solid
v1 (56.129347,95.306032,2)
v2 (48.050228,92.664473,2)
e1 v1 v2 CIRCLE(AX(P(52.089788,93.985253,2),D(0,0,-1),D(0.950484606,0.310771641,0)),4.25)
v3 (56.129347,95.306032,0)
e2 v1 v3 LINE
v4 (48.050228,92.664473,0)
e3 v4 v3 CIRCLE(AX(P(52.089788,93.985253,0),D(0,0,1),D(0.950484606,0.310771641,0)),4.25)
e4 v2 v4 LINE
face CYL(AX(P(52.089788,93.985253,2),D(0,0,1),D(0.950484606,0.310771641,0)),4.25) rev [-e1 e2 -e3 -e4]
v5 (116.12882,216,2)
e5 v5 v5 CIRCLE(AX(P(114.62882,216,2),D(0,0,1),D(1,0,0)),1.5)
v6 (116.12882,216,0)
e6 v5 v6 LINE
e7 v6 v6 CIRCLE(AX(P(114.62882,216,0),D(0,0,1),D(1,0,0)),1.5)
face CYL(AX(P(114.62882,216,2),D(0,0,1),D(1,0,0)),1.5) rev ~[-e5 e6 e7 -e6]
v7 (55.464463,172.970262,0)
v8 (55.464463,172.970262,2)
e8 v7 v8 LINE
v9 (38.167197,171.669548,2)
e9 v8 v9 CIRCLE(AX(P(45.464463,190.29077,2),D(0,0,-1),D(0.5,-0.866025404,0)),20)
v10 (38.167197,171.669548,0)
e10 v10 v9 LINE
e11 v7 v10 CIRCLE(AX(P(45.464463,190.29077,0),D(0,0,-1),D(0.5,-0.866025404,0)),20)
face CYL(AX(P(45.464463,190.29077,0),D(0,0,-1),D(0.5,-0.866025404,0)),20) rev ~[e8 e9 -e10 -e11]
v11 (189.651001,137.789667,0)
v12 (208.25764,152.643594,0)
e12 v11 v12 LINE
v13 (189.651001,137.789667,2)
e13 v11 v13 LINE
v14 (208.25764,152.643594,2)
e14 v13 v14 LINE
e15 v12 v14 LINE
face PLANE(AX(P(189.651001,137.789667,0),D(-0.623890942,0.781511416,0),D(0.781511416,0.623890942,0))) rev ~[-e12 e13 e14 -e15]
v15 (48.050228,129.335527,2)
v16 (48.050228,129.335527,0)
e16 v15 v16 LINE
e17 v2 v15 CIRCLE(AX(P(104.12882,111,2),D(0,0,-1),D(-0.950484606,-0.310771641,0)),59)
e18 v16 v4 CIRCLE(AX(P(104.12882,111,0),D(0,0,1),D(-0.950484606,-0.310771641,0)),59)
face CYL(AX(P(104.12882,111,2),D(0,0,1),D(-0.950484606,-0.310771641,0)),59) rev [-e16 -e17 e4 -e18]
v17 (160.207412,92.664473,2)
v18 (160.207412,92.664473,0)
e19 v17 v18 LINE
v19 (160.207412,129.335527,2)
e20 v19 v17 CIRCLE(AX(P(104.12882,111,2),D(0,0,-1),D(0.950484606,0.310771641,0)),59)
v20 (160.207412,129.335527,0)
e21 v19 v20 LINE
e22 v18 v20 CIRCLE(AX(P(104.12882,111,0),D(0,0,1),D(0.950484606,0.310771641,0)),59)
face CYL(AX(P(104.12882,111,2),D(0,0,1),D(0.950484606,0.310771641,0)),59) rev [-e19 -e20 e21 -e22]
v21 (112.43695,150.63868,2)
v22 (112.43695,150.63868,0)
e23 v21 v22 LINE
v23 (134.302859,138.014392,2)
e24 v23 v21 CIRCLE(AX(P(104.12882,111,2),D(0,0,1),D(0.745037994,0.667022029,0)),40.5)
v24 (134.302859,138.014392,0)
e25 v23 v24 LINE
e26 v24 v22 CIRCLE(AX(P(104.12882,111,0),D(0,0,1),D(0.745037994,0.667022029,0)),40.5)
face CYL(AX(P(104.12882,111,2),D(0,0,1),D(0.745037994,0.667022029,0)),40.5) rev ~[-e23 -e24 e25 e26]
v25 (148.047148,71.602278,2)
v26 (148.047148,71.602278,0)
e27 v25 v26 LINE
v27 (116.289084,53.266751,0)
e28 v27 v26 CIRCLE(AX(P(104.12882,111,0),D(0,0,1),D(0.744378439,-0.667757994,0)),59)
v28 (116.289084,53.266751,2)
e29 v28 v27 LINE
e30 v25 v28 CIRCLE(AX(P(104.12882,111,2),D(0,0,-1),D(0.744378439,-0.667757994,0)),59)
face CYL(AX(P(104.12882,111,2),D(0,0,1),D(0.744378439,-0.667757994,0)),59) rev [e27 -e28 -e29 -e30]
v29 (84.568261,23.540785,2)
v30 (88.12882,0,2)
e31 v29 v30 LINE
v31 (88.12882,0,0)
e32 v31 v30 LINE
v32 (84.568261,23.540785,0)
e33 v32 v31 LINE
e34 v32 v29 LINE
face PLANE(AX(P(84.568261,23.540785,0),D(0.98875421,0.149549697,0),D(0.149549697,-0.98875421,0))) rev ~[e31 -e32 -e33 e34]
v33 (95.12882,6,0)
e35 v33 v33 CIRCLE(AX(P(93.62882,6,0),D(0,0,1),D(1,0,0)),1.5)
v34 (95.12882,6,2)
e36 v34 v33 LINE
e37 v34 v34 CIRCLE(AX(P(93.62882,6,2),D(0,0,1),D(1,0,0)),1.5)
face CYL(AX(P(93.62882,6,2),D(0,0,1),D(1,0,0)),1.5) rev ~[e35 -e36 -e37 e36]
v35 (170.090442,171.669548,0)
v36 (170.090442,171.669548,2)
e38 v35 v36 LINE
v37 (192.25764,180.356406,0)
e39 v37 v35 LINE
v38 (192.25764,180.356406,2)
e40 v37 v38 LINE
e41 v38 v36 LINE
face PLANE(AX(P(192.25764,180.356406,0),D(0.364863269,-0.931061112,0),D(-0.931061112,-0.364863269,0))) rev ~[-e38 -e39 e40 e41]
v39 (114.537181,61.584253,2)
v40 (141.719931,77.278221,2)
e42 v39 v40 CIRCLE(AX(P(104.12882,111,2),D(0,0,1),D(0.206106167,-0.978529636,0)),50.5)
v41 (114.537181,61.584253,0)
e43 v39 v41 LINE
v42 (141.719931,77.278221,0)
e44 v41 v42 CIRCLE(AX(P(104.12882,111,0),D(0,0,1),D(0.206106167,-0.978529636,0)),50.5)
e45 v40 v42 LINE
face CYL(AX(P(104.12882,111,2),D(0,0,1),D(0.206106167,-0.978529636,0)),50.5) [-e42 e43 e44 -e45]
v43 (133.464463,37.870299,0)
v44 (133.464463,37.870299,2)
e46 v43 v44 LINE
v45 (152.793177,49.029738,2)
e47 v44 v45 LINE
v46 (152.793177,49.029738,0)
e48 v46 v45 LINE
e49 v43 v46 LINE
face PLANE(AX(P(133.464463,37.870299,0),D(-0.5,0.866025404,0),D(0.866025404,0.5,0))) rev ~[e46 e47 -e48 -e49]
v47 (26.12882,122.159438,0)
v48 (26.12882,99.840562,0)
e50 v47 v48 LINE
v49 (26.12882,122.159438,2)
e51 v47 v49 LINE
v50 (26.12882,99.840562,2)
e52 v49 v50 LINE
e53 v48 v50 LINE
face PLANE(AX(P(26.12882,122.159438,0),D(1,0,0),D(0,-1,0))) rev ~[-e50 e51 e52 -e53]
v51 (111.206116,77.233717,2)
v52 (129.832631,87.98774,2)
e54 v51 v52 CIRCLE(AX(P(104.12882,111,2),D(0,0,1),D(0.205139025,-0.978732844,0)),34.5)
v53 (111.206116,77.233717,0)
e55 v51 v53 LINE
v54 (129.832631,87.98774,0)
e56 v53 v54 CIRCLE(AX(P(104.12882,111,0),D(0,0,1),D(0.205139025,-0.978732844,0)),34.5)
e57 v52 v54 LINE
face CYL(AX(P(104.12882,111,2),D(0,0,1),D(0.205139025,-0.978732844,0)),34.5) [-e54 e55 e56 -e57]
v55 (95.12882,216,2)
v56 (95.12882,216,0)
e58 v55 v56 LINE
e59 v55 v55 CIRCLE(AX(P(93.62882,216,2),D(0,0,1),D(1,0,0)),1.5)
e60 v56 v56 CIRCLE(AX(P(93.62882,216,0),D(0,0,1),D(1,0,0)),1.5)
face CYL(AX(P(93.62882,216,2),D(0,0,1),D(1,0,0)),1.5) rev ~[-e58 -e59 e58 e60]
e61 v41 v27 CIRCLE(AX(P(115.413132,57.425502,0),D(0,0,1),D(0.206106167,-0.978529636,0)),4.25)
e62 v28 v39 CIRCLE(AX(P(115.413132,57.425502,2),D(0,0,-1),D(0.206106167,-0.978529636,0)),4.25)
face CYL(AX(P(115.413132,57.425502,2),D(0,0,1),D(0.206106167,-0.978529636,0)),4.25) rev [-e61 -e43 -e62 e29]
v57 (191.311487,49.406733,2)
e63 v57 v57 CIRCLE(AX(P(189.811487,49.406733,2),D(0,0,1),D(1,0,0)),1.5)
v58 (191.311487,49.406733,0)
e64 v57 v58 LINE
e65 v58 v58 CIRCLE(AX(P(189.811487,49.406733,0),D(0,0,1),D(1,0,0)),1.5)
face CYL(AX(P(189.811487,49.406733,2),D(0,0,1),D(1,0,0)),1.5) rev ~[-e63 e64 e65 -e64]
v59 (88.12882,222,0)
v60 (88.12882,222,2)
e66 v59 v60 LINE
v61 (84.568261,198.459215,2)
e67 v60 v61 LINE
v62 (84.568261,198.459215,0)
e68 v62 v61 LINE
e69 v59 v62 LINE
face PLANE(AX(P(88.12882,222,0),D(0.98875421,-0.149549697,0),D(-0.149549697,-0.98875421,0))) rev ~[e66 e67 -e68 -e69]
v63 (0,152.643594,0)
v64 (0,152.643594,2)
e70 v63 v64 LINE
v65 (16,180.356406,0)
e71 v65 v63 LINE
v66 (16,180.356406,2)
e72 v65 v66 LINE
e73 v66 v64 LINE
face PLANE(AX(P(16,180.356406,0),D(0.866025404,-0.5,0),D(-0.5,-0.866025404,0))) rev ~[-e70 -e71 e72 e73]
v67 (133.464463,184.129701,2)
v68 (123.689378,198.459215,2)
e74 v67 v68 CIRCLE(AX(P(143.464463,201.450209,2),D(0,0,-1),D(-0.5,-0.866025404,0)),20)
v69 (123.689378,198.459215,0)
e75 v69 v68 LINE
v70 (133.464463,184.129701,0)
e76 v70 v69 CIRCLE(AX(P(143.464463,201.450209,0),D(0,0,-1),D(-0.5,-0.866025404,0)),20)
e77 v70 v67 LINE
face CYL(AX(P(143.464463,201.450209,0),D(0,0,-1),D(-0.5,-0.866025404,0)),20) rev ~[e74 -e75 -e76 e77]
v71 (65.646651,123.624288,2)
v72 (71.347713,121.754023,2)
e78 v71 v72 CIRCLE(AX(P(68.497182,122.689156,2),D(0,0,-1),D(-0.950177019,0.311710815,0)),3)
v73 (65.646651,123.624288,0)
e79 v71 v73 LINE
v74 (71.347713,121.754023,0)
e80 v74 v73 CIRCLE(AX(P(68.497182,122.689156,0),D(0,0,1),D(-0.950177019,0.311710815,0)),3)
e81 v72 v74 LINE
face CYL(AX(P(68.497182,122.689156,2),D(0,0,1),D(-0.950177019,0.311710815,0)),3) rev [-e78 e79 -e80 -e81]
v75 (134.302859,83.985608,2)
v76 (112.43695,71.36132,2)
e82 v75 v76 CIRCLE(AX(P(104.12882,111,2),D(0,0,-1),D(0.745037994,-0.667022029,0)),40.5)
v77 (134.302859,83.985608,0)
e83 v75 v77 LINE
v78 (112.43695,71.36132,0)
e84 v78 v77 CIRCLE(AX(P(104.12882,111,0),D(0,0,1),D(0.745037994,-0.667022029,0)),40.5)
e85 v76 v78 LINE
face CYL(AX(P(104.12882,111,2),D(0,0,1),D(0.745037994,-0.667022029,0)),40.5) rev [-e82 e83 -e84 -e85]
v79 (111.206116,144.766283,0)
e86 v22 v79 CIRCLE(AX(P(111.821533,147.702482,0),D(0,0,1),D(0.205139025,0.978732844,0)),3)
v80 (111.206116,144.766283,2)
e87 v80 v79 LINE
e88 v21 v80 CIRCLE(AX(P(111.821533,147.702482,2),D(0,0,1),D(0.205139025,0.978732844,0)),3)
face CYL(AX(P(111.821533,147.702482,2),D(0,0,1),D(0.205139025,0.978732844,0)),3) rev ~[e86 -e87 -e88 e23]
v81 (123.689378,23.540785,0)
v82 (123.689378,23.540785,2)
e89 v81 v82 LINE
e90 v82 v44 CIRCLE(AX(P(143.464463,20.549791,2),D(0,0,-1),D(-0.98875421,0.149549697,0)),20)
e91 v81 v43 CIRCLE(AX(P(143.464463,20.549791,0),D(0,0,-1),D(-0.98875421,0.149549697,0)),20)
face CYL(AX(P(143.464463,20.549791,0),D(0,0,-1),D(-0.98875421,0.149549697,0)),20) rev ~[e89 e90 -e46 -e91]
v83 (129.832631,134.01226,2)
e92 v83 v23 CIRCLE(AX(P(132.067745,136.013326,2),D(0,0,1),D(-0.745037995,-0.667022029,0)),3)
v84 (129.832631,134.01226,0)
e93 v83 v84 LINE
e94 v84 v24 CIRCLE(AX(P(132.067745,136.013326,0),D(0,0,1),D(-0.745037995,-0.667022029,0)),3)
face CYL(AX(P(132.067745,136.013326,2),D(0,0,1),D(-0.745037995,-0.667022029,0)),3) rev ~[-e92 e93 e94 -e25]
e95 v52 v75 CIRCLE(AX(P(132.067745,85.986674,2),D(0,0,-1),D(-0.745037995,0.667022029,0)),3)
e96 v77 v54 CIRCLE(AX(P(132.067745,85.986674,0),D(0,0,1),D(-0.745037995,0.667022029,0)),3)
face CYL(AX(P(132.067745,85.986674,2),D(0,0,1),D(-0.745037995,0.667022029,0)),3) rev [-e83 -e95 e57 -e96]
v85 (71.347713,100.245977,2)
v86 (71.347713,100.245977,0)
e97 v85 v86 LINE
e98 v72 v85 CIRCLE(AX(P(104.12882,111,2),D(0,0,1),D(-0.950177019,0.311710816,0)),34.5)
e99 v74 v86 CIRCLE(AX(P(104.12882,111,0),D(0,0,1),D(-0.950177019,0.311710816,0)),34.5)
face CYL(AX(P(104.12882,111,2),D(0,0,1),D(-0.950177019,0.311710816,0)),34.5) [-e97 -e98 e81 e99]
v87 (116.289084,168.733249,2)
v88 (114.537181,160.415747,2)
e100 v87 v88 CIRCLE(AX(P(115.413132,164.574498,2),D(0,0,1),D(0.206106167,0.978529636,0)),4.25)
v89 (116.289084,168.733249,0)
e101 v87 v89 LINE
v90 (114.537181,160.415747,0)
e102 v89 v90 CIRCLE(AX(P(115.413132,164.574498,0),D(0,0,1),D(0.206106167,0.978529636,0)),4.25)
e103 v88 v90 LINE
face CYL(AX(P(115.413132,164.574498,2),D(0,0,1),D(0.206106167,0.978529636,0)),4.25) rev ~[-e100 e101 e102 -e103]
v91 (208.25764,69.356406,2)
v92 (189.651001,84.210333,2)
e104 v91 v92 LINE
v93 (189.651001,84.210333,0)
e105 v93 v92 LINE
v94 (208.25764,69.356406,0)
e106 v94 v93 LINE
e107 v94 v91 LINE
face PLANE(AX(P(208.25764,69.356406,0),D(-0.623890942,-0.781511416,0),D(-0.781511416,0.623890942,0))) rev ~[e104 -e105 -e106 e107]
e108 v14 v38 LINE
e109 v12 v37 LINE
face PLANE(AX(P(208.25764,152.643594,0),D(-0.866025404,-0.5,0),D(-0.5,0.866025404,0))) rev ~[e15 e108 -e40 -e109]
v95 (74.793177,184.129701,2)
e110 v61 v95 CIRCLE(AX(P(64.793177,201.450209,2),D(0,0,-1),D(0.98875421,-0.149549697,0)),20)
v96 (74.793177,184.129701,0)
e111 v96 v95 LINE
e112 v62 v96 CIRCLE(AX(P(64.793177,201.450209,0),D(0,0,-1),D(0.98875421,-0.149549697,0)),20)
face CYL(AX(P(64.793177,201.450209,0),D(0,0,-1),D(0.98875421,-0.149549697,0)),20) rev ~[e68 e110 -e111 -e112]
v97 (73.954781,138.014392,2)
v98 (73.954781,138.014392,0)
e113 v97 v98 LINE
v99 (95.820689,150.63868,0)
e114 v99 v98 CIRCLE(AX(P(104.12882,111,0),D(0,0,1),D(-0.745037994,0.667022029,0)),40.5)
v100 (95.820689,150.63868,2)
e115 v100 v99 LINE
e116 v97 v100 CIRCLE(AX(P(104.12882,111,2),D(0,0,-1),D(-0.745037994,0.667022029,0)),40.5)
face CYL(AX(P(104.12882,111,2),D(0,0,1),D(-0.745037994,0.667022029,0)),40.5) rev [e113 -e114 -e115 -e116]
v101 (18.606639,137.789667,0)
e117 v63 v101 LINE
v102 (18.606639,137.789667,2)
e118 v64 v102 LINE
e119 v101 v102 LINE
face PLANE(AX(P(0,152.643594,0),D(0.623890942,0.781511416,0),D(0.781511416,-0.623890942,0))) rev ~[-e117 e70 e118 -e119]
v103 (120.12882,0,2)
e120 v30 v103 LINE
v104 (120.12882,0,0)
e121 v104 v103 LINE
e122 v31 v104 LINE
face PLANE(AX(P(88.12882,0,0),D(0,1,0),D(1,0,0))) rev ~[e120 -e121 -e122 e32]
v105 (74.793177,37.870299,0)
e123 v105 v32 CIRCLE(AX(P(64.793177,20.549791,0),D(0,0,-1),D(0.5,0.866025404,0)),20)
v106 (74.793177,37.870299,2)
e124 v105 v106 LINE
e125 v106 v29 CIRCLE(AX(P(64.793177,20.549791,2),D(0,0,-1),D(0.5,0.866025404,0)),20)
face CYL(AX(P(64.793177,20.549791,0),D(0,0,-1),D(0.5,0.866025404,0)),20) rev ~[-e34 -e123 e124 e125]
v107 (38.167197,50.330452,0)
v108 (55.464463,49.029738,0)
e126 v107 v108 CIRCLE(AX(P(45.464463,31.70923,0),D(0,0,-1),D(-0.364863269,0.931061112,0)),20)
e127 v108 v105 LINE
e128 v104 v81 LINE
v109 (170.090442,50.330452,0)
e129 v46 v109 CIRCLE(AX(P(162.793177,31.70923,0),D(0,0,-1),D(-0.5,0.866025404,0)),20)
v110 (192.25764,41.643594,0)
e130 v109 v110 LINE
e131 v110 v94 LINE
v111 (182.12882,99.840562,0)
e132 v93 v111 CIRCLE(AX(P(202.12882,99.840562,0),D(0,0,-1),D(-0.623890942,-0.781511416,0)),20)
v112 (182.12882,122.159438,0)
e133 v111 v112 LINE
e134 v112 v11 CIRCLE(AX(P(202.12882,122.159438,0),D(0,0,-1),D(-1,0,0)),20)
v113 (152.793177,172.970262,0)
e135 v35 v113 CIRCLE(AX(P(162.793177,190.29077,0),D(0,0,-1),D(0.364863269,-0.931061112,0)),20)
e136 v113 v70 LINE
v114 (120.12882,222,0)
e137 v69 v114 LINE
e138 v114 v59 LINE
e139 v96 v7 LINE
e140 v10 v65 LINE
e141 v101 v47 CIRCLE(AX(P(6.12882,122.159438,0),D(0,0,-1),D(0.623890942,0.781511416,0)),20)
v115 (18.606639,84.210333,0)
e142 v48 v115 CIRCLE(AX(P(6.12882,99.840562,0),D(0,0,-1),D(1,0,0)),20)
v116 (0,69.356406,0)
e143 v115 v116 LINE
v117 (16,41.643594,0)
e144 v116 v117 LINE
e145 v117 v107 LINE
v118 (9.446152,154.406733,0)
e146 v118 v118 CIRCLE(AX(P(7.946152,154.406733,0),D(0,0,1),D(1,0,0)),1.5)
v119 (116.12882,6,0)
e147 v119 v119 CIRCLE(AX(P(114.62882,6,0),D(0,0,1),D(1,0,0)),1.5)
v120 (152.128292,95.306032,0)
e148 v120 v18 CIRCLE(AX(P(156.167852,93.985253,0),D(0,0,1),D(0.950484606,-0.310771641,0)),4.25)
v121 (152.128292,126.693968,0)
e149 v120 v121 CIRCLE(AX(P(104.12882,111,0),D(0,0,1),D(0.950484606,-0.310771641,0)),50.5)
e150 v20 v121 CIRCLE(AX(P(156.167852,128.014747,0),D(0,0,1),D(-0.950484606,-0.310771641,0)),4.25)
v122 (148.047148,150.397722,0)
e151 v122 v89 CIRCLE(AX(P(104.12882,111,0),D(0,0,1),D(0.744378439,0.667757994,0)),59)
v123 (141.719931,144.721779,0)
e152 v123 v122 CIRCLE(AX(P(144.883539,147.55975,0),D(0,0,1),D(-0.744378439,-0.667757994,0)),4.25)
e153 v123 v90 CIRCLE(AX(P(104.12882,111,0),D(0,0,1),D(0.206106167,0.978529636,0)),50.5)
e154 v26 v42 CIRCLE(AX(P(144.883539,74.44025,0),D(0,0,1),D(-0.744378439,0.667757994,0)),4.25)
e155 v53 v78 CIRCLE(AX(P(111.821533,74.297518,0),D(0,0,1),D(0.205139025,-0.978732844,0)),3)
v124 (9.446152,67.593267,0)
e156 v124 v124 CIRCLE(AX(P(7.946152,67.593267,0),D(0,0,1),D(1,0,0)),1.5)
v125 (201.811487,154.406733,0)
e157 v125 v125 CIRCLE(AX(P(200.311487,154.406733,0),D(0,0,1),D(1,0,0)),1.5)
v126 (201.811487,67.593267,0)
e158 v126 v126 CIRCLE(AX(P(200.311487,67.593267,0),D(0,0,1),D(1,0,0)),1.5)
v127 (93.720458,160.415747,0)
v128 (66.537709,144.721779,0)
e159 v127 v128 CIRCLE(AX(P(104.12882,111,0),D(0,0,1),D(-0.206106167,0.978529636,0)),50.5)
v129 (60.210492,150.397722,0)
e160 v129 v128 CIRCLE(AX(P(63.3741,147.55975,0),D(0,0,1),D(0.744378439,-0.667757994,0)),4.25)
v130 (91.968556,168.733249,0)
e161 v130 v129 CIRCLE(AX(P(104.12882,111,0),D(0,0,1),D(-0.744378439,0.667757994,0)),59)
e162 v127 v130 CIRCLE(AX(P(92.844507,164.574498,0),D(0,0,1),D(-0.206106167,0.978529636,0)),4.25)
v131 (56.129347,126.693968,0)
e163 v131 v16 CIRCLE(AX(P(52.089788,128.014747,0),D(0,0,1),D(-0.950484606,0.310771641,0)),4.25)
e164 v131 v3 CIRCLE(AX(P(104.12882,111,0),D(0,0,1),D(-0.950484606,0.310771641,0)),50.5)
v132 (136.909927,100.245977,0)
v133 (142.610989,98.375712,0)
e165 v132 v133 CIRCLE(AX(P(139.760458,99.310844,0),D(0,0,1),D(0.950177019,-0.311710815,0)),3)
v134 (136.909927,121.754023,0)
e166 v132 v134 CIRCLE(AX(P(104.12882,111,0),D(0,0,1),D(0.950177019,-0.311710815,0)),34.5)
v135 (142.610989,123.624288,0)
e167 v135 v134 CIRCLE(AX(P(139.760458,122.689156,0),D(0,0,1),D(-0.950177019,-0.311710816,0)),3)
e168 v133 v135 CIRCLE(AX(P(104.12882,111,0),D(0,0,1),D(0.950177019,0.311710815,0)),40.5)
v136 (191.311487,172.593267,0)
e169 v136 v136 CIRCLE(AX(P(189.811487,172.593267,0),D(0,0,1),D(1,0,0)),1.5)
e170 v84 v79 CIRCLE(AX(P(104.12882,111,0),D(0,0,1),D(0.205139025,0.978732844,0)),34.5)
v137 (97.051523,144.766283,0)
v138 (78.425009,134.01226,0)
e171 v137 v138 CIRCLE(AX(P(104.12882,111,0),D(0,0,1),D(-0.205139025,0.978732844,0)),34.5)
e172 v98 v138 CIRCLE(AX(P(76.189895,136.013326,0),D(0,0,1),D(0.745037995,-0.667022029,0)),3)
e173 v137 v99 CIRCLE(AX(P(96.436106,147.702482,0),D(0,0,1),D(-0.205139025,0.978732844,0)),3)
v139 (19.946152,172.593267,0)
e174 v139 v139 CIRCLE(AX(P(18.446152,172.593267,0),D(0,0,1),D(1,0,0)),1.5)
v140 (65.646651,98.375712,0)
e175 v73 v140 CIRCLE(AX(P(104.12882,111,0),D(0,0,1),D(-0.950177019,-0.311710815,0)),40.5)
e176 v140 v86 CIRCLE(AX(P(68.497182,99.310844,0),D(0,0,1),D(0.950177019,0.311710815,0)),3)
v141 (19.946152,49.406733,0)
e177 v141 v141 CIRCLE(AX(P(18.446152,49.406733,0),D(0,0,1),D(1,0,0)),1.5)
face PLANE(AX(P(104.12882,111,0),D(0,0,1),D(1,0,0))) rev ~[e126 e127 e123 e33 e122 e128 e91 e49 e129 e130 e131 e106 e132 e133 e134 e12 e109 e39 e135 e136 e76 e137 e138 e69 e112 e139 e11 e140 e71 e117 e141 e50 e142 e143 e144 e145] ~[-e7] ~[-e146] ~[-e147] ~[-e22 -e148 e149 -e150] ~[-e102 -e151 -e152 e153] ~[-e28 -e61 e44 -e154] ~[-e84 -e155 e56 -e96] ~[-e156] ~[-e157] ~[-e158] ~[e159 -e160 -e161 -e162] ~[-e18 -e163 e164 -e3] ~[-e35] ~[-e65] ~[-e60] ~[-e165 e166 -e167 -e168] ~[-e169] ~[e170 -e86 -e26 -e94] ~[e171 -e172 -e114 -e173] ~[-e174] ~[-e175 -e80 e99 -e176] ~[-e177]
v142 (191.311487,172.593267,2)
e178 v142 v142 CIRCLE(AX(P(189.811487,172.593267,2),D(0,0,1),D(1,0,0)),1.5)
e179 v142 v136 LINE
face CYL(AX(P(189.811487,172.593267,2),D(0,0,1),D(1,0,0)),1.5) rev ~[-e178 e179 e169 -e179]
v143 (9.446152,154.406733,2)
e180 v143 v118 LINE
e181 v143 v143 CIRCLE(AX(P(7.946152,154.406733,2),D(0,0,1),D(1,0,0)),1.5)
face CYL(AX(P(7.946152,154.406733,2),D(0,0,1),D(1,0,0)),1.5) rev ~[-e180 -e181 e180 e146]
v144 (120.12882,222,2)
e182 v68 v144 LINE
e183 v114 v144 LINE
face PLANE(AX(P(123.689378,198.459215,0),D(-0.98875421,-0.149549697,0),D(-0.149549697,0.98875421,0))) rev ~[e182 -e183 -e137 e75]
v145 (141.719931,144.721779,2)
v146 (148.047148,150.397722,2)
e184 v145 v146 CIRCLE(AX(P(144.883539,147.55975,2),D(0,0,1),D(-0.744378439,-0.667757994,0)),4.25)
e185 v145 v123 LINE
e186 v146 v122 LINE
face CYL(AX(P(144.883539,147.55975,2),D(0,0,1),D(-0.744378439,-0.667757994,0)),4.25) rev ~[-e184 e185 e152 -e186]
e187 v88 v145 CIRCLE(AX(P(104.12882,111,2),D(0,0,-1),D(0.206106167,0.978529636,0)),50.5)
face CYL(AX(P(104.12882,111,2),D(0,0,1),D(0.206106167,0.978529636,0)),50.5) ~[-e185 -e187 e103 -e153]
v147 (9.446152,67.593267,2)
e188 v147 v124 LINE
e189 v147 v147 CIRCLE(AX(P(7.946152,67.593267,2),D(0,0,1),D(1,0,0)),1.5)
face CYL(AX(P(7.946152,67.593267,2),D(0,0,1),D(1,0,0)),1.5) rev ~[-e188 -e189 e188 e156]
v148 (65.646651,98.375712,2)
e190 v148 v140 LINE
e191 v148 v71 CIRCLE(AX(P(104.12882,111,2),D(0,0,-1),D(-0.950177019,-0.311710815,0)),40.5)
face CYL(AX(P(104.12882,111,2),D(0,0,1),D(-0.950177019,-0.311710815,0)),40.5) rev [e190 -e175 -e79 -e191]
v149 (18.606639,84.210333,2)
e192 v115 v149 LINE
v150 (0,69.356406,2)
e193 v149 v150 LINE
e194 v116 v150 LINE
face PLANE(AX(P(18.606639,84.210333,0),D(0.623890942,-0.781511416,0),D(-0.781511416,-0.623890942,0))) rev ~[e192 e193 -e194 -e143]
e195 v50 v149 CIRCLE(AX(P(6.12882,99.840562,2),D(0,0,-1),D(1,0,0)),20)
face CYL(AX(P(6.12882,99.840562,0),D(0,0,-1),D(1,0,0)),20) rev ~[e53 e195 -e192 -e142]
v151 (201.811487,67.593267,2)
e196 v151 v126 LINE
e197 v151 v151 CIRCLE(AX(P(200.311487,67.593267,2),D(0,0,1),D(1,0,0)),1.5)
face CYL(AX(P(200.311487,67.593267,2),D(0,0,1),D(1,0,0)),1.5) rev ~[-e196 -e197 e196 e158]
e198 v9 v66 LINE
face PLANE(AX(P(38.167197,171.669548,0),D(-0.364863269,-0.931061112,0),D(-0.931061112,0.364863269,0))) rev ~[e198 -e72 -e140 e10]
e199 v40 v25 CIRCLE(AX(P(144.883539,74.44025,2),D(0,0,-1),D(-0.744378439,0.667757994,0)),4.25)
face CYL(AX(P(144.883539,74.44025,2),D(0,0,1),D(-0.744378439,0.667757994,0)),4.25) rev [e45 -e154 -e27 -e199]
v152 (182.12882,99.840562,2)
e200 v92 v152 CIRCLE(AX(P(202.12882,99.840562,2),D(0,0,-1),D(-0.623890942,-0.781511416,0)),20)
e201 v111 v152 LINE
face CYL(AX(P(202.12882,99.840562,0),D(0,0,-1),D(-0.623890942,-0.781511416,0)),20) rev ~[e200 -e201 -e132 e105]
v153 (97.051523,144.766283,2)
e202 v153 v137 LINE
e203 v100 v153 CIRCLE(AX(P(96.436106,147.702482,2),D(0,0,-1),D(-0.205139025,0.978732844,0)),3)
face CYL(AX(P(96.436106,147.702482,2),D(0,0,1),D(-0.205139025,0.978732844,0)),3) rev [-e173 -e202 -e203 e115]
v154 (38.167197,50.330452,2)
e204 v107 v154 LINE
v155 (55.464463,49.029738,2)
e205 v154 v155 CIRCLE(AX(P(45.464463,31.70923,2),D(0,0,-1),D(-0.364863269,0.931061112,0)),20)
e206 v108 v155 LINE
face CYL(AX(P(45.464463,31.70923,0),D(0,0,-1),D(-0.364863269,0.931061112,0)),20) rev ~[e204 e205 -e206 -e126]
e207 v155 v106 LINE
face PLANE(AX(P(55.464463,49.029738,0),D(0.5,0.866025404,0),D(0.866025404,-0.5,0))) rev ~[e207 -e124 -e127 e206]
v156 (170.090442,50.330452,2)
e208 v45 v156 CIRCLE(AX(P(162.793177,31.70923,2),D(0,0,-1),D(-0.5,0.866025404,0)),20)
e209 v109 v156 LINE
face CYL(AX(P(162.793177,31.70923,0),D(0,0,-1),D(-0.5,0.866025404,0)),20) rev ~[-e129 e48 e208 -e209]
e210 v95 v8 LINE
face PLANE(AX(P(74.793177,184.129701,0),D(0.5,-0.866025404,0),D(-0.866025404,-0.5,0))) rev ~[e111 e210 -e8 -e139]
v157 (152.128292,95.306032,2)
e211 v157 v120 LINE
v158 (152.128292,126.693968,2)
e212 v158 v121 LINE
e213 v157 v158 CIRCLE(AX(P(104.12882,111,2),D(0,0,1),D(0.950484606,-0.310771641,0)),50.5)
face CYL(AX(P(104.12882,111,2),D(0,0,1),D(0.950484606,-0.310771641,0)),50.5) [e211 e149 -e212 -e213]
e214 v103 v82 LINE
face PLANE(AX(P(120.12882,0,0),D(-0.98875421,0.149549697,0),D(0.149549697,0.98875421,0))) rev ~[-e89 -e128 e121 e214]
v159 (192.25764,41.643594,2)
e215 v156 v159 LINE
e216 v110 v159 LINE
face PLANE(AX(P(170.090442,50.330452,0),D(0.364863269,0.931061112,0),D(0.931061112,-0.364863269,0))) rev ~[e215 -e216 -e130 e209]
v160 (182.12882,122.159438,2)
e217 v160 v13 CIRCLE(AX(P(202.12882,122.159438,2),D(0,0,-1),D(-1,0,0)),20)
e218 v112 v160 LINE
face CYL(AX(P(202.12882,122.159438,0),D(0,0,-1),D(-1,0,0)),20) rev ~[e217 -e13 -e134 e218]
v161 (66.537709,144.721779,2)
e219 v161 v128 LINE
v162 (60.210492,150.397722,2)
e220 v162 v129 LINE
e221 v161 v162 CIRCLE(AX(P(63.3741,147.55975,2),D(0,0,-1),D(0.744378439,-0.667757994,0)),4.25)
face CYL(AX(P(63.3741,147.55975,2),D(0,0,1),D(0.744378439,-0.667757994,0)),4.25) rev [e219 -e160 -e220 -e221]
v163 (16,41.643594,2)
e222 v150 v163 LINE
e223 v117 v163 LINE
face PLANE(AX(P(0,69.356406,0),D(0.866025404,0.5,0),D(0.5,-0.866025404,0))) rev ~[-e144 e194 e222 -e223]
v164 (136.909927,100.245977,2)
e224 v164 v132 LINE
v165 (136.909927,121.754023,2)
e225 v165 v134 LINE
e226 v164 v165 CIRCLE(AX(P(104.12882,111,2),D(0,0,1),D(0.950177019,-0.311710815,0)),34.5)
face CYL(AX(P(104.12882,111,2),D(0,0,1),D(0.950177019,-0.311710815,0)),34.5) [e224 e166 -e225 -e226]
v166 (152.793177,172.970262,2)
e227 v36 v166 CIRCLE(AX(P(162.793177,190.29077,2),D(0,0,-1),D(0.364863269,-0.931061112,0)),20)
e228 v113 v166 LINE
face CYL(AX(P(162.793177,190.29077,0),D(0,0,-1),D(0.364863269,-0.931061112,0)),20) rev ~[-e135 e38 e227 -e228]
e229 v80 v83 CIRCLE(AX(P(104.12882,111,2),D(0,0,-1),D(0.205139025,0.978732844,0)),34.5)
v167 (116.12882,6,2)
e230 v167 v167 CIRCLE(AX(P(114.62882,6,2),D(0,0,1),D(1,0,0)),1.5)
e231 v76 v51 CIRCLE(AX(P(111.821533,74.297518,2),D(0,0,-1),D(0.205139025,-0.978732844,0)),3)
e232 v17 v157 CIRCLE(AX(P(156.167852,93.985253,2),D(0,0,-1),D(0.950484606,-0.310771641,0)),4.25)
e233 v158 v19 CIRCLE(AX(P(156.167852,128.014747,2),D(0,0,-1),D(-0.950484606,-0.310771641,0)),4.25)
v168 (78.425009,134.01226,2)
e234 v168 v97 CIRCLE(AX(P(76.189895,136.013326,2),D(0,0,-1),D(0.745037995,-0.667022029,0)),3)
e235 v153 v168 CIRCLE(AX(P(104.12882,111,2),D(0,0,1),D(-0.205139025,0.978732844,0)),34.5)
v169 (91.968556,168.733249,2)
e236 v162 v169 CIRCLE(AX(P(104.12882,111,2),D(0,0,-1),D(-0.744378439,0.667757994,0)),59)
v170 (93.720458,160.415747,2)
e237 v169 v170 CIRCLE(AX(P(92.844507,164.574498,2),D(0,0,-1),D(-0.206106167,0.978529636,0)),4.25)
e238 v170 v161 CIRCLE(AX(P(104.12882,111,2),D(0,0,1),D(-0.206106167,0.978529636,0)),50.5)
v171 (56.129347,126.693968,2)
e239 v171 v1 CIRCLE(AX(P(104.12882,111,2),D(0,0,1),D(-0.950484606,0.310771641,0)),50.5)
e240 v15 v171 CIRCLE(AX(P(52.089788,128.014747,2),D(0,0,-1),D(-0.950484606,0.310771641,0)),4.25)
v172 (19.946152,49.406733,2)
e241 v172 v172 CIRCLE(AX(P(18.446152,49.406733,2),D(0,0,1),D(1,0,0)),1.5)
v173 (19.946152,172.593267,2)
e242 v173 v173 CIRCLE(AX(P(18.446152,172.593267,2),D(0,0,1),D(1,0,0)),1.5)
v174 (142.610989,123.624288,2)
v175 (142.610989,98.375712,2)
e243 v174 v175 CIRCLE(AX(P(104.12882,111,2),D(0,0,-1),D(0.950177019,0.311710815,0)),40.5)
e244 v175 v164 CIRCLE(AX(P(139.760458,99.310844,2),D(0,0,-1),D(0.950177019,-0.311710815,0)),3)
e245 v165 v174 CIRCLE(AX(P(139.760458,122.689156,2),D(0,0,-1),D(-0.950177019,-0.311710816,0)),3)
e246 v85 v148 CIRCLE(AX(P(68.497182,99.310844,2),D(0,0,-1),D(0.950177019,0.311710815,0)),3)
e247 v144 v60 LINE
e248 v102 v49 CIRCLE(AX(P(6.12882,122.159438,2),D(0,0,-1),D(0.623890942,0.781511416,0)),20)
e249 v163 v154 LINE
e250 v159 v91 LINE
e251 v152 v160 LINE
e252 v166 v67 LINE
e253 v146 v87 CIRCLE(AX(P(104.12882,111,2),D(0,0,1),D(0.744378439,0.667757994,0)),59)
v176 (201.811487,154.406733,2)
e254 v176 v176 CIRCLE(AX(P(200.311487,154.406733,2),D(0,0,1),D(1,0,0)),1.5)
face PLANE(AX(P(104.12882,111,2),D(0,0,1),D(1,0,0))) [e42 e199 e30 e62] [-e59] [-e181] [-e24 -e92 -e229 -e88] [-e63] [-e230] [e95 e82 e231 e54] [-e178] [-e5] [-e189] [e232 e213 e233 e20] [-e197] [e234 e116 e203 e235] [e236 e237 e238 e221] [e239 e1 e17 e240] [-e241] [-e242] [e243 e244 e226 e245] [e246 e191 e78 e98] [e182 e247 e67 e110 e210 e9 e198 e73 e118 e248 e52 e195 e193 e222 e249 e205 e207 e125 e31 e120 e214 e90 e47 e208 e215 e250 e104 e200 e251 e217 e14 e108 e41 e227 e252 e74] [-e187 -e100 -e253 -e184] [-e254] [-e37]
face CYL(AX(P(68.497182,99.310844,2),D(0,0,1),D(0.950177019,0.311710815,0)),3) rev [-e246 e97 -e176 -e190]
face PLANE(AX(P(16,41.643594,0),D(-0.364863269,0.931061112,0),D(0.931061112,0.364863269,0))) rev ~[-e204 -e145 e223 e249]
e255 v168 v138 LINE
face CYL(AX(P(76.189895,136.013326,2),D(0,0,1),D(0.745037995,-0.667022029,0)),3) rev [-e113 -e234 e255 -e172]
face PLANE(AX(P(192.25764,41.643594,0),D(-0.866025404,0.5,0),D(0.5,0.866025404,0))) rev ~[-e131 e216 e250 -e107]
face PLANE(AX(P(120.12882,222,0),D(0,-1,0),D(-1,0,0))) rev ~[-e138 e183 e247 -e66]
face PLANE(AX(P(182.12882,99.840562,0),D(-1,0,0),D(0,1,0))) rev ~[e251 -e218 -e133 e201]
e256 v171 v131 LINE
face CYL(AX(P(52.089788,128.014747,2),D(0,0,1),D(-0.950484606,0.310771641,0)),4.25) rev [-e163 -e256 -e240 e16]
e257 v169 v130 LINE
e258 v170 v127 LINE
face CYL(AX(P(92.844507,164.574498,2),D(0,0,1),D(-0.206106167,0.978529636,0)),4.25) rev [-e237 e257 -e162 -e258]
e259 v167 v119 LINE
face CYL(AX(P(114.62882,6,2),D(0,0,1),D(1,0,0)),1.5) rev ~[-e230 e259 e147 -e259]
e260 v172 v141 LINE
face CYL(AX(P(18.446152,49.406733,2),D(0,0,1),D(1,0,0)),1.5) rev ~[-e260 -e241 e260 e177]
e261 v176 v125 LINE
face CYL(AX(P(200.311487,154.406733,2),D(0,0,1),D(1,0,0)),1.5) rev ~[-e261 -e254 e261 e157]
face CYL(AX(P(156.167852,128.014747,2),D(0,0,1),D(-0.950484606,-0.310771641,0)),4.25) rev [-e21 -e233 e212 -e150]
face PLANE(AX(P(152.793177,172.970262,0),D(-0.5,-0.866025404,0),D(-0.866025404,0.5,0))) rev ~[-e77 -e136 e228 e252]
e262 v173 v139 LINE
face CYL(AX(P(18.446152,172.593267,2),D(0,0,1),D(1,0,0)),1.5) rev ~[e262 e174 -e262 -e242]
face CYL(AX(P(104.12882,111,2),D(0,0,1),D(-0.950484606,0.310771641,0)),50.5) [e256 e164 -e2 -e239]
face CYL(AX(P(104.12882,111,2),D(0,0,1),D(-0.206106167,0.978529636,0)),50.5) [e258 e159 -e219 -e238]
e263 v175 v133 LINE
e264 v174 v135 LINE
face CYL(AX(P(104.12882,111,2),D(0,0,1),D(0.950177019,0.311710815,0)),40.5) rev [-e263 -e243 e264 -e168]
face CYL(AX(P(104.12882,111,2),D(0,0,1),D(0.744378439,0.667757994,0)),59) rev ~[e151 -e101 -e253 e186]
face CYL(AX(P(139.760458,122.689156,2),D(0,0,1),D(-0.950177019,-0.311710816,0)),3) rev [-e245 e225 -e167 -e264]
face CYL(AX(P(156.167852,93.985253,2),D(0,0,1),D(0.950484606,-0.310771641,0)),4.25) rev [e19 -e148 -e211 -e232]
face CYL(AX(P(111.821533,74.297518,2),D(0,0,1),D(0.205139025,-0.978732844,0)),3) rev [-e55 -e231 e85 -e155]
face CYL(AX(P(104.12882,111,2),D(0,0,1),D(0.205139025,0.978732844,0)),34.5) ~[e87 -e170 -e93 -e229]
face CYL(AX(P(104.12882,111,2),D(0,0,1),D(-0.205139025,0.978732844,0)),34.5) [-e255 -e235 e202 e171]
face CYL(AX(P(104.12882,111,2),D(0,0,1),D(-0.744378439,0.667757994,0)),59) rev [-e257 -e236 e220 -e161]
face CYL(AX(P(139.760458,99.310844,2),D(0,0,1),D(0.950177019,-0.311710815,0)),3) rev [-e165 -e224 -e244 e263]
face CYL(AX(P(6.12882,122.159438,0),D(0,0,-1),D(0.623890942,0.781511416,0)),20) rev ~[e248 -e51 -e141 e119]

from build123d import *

# Parameters (mm, degrees)
BOSS_EXTRUDE1_DEPTH = 2
CUT_EXTRUDE4_REACH  = 4
CUT_EXTRUDE5_REACH  = 4
SKETCH6_R           = 1.5


with BuildPart() as part:
    # Sketch1 → Boss-Extrude1 (new body)
    with BuildSketch(Plane.XY):
        with BuildLine():
            Line((88.12881982, 222), (84.568261253, 198.459214885))
            ThreePointArc((84.568261253, 198.459214885), (81.315061134, 190.17956792), (74.793177049, 184.129700743))
            Line((74.793177049, 184.129700743), (55.464462591, 172.970262248))
            ThreePointArc((55.464462591, 172.970262248), (46.964181884, 170.347078538), (38.167197219, 171.669548074))
            Line((38.167197219, 171.669548074), (16, 180.356406461))
            Line((16, 180.356406461), (0, 152.643593539))
            Line((0, 152.643593539), (18.606638651, 137.789666811))
            ThreePointArc((18.606638651, 137.789666811), (24.150423198, 130.832489382), (26.12881982, 122.159438495))
            Line((26.12881982, 122.159438495), (26.12881982, 99.840561505))
            ThreePointArc((26.12881982, 99.840561505), (24.150423198, 91.167510618), (18.606638651, 84.210333189))
            Line((18.606638651, 84.210333189), (0, 69.356406461))
            Line((0, 69.356406461), (16, 41.643593539))
            Line((16, 41.643593539), (38.167197219, 50.330451926))
            ThreePointArc((38.167197219, 50.330451926), (46.964181884, 51.652921462), (55.464462591, 49.029737752))
            Line((55.464462591, 49.029737752), (74.793177049, 37.870299257))
            ThreePointArc((74.793177049, 37.870299257), (81.315061134, 31.82043208), (84.568261253, 23.540785115))
            Line((84.568261253, 23.540785115), (88.12881982, 0))
            Line((88.12881982, 0), (120.12881982, 0))
            Line((120.12881982, 0), (123.689378387, 23.540785115))
            ThreePointArc((123.689378387, 23.540785115), (126.942578506, 31.82043208), (133.464462591, 37.870299257))
            Line((133.464462591, 37.870299257), (152.793177049, 49.029737752))
            ThreePointArc((152.793177049, 49.029737752), (161.293457756, 51.652921462), (170.090442422, 50.330451926))
            Line((170.090442422, 50.330451926), (192.25763964, 41.643593539))
            Line((192.25763964, 41.643593539), (208.25763964, 69.356406461))
            Line((208.25763964, 69.356406461), (189.651000989, 84.210333189))
            ThreePointArc((189.651000989, 84.210333189), (184.107216442, 91.167510618), (182.12881982, 99.840561505))
            Line((182.12881982, 99.840561505), (182.12881982, 122.159438495))
            ThreePointArc((182.12881982, 122.159438495), (184.107216442, 130.832489382), (189.651000989, 137.789666811))
            Line((189.651000989, 137.789666811), (208.25763964, 152.643593539))
            Line((208.25763964, 152.643593539), (192.25763964, 180.356406461))
            Line((192.25763964, 180.356406461), (170.090442422, 171.669548074))
            ThreePointArc((170.090442422, 171.669548074), (161.293457756, 170.347078538), (152.793177049, 172.970262248))
            Line((152.793177049, 172.970262248), (133.464462591, 184.129700743))
            ThreePointArc((133.464462591, 184.129700743), (126.942578506, 190.17956792), (123.689378387, 198.459214885))
            Line((123.689378387, 198.459214885), (120.12881982, 222))
            Line((120.12881982, 222), (88.12881982, 222))
        make_face()
    extrude(amount=BOSS_EXTRUDE1_DEPTH)

    # Sketch5 → Cut-Extrude4 (cut, up to next)
    with BuildSketch(Plane.XY.offset(2), mode=Mode.PRIVATE) as cut_extrude4_sk1:
        with BuildLine():
            ThreePointArc((134.30285859, 138.01439217), (124.37881982, 146.074028853), (112.436950322, 150.638680195))
            ThreePointArc((112.436950322, 150.638680195), (108.885334715, 148.317898736), (111.206116174, 144.766283129))
            ThreePointArc((111.206116174, 144.766283129), (121.37881982, 140.877876431), (129.832630624, 134.012259997))
            ThreePointArc((129.832630624, 134.012259997), (134.068810694, 133.7782121), (134.30285859, 138.01439217))
        make_face()
    cut_extrude4_tool1 = extrude(cut_extrude4_sk1.sketch, amount=-CUT_EXTRUDE4_REACH, mode=Mode.PRIVATE) & part.part
    add(cut_extrude4_tool1.solids().sort_by_distance((122.463529, 142.756648, 2))[0], mode=Mode.SUBTRACT)
    # Sketch5 → Cut-Extrude4 (cut, up to next)
    with BuildSketch(Plane.XY.offset(2), mode=Mode.PRIVATE) as cut_extrude4_sk2:
        with BuildLine():
            ThreePointArc((116.289083676, 168.733248505), (111.254381514, 165.450448764), (114.537181256, 160.415746602))
            ThreePointArc((114.537181256, 160.415746602), (129.37881982, 154.734282891), (141.719931007, 144.721778716))
            ThreePointArc((141.719931007, 144.721778716), (147.72151085, 144.396141825), (148.047147741, 150.397721668))
            ThreePointArc((148.047147741, 150.397721668), (133.62881982, 162.095498823), (116.289083676, 168.733248505))
        make_face()
    cut_extrude4_tool2 = extrude(cut_extrude4_sk2.sketch, amount=-CUT_EXTRUDE4_REACH, mode=Mode.PRIVATE) & part.part
    add(cut_extrude4_tool2.solids().sort_by_distance((130.90458, 157.376977, 2))[0], mode=Mode.SUBTRACT)
    # Sketch5 → Cut-Extrude4 (cut, up to next)
    with BuildSketch(Plane.XY.offset(2), mode=Mode.PRIVATE) as cut_extrude4_sk3:
        with BuildLine():
            ThreePointArc((136.909926978, 100.245976868), (138.62881982, 111), (136.909926978, 121.754023132))
            ThreePointArc((136.909926978, 121.754023132), (138.825325589, 125.539686636), (142.610989092, 123.624288025))
            ThreePointArc((142.610989092, 123.624288025), (144.62881982, 111), (142.610989092, 98.375711975))
            ThreePointArc((142.610989092, 98.375711975), (138.825325589, 96.460313364), (136.909926978, 100.245976868))
        make_face()
    cut_extrude4_tool3 = extrude(cut_extrude4_sk3.sketch, amount=-CUT_EXTRUDE4_REACH, mode=Mode.PRIVATE) & part.part
    add(cut_extrude4_tool3.solids().sort_by_distance((140.798238, 111, 2))[0], mode=Mode.SUBTRACT)
    # Sketch5 → Cut-Extrude4 (cut, up to next)
    with BuildSketch(Plane.XY.offset(2), mode=Mode.PRIVATE) as cut_extrude4_sk4:
        with BuildLine():
            ThreePointArc((152.128292442, 95.306032114), (154.62881982, 111), (152.128292442, 126.693967886))
            ThreePointArc((152.128292442, 126.693967886), (154.847072544, 132.054306939), (160.207411596, 129.335526837))
            ThreePointArc((160.207411596, 129.335526837), (163.12881982, 111), (160.207411596, 92.664473163))
            ThreePointArc((160.207411596, 92.664473163), (154.847072544, 89.945693061), (152.128292442, 95.306032114))
        make_face()
    cut_extrude4_tool4 = extrude(cut_extrude4_sk4.sketch, amount=-CUT_EXTRUDE4_REACH, mode=Mode.PRIVATE) & part.part
    add(cut_extrude4_tool4.solids().sort_by_distance((157.68034, 111, 2))[0], mode=Mode.SUBTRACT)
    # Sketch5 → Cut-Extrude4 (cut, up to next)
    with BuildSketch(Plane.XY.offset(2), mode=Mode.PRIVATE) as cut_extrude4_sk5:
        with BuildLine():
            ThreePointArc((111.206116174, 77.233716871), (121.37881982, 81.122123569), (129.832630624, 87.987740003))
            ThreePointArc((129.832630624, 87.987740003), (134.068810694, 88.2217879), (134.30285859, 83.98560783))
            ThreePointArc((134.30285859, 83.98560783), (124.37881982, 75.925971147), (112.436950322, 71.361319805))
            ThreePointArc((112.436950322, 71.361319805), (108.885334715, 73.682101264), (111.206116174, 77.233716871))
        make_face()
    cut_extrude4_tool5 = extrude(cut_extrude4_sk5.sketch, amount=-CUT_EXTRUDE4_REACH, mode=Mode.PRIVATE) & part.part
    add(cut_extrude4_tool5.solids().sort_by_distance((122.463529, 79.243352, 2))[0], mode=Mode.SUBTRACT)
    # Sketch5 → Cut-Extrude4 (cut, up to next)
    with BuildSketch(Plane.XY.offset(2), mode=Mode.PRIVATE) as cut_extrude4_sk6:
        with BuildLine():
            ThreePointArc((114.537181256, 61.584253398), (129.37881982, 67.265717109), (141.719931007, 77.278221284))
            ThreePointArc((141.719931007, 77.278221284), (147.72151085, 77.603858175), (148.047147741, 71.602278332))
            ThreePointArc((148.047147741, 71.602278332), (133.62881982, 59.904501177), (116.289083676, 53.266751495))
            ThreePointArc((116.289083676, 53.266751495), (111.254381514, 56.549551236), (114.537181256, 61.584253398))
        make_face()
    cut_extrude4_tool6 = extrude(cut_extrude4_sk6.sketch, amount=-CUT_EXTRUDE4_REACH, mode=Mode.PRIVATE) & part.part
    add(cut_extrude4_tool6.solids().sort_by_distance((130.90458, 64.623023, 2))[0], mode=Mode.SUBTRACT)
    # Sketch5 → Cut-Extrude4 (cut, up to next)
    with BuildSketch(Plane.XY.offset(2), mode=Mode.PRIVATE) as cut_extrude4_sk7:
        with BuildLine():
            ThreePointArc((71.347712663, 121.754023132), (69.62881982, 111), (71.347712663, 100.245976868))
            ThreePointArc((71.347712663, 100.245976868), (69.432314052, 96.460313364), (65.646650548, 98.375711975))
            ThreePointArc((65.646650548, 98.375711975), (63.62881982, 111), (65.646650548, 123.624288025))
            ThreePointArc((65.646650548, 123.624288025), (69.432314052, 125.539686636), (71.347712663, 121.754023132))
        make_face()
    cut_extrude4_tool7 = extrude(cut_extrude4_sk7.sketch, amount=-CUT_EXTRUDE4_REACH, mode=Mode.PRIVATE) & part.part
    add(cut_extrude4_tool7.solids().sort_by_distance((67.459401, 111, 2))[0], mode=Mode.SUBTRACT)
    # Sketch5 → Cut-Extrude4 (cut, up to next)
    with BuildSketch(Plane.XY.offset(2), mode=Mode.PRIVATE) as cut_extrude4_sk8:
        with BuildLine():
            ThreePointArc((56.129347198, 126.693967886), (53.62881982, 111), (56.129347198, 95.306032114))
            ThreePointArc((56.129347198, 95.306032114), (53.410567096, 89.945693061), (48.050228044, 92.664473163))
            ThreePointArc((48.050228044, 92.664473163), (45.12881982, 111), (48.050228044, 129.335526837))
            ThreePointArc((48.050228044, 129.335526837), (53.410567096, 132.054306939), (56.129347198, 126.693967886))
        make_face()
    cut_extrude4_tool8 = extrude(cut_extrude4_sk8.sketch, amount=-CUT_EXTRUDE4_REACH, mode=Mode.PRIVATE) & part.part
    add(cut_extrude4_tool8.solids().sort_by_distance((50.5773, 111, 2))[0], mode=Mode.SUBTRACT)
    # Sketch5 → Cut-Extrude4 (cut, up to next)
    with BuildSketch(Plane.XY.offset(2), mode=Mode.PRIVATE) as cut_extrude4_sk9:
        with BuildLine():
            ThreePointArc((97.051523467, 144.766283129), (86.87881982, 140.877876431), (78.425009016, 134.012259997))
            ThreePointArc((78.425009016, 134.012259997), (74.188828946, 133.7782121), (73.95478105, 138.01439217))
            ThreePointArc((73.95478105, 138.01439217), (83.87881982, 146.074028853), (95.820689318, 150.638680195))
            ThreePointArc((95.820689318, 150.638680195), (99.372304925, 148.317898736), (97.051523467, 144.766283129))
        make_face()
    cut_extrude4_tool9 = extrude(cut_extrude4_sk9.sketch, amount=-CUT_EXTRUDE4_REACH, mode=Mode.PRIVATE) & part.part
    add(cut_extrude4_tool9.solids().sort_by_distance((85.794111, 142.756648, 2))[0], mode=Mode.SUBTRACT)
    # Sketch5 → Cut-Extrude4 (cut, up to next)
    with BuildSketch(Plane.XY.offset(2), mode=Mode.PRIVATE) as cut_extrude4_sk10:
        with BuildLine():
            ThreePointArc((93.720458384, 160.415746602), (78.87881982, 154.734282891), (66.537708634, 144.721778716))
            ThreePointArc((66.537708634, 144.721778716), (60.53612879, 144.396141825), (60.210491899, 150.397721668))
            ThreePointArc((60.210491899, 150.397721668), (74.62881982, 162.095498823), (91.968555965, 168.733248505))
            ThreePointArc((91.968555965, 168.733248505), (97.003258126, 165.450448764), (93.720458384, 160.415746602))
        make_face()
    cut_extrude4_tool10 = extrude(cut_extrude4_sk10.sketch, amount=-CUT_EXTRUDE4_REACH, mode=Mode.PRIVATE) & part.part
    add(cut_extrude4_tool10.solids().sort_by_distance((77.35306, 157.376977, 2))[0], mode=Mode.SUBTRACT)

    # Sketch6 → Cut-Extrude5 (cut, up to next)
    with BuildSketch(Plane.XY.offset(2), mode=Mode.PRIVATE) as cut_extrude5_sk1:
        with Locations((93.62881982, 216)):
            Circle(SKETCH6_R)
    cut_extrude5_tool1 = extrude(cut_extrude5_sk1.sketch, amount=-CUT_EXTRUDE5_REACH, mode=Mode.PRIVATE) & part.part
    add(cut_extrude5_tool1.solids().sort_by_distance((93.62882, 216, 2))[0], mode=Mode.SUBTRACT)
    # Sketch6 → Cut-Extrude5 (cut, up to next)
    with BuildSketch(Plane.XY.offset(2), mode=Mode.PRIVATE) as cut_extrude5_sk2:
        with Locations((114.62881982, 216)):
            Circle(SKETCH6_R)
    cut_extrude5_tool2 = extrude(cut_extrude5_sk2.sketch, amount=-CUT_EXTRUDE5_REACH, mode=Mode.PRIVATE) & part.part
    add(cut_extrude5_tool2.solids().sort_by_distance((114.62882, 216, 2))[0], mode=Mode.SUBTRACT)
    # Sketch6 → Cut-Extrude5 (cut, up to next)
    with BuildSketch(Plane.XY.offset(2), mode=Mode.PRIVATE) as cut_extrude5_sk3:
        with Locations((93.62881982, 6)):
            Circle(SKETCH6_R)
    cut_extrude5_tool3 = extrude(cut_extrude5_sk3.sketch, amount=-CUT_EXTRUDE5_REACH, mode=Mode.PRIVATE) & part.part
    add(cut_extrude5_tool3.solids().sort_by_distance((93.62882, 6, 2))[0], mode=Mode.SUBTRACT)
    # Sketch6 → Cut-Extrude5 (cut, up to next)
    with BuildSketch(Plane.XY.offset(2), mode=Mode.PRIVATE) as cut_extrude5_sk4:
        with Locations((114.62881982, 6)):
            Circle(SKETCH6_R)
    cut_extrude5_tool4 = extrude(cut_extrude5_sk4.sketch, amount=-CUT_EXTRUDE5_REACH, mode=Mode.PRIVATE) & part.part
    add(cut_extrude5_tool4.solids().sort_by_distance((114.62882, 6, 2))[0], mode=Mode.SUBTRACT)
    # Sketch6 → Cut-Extrude5 (cut, up to next)
    with BuildSketch(Plane.XY.offset(2), mode=Mode.PRIVATE) as cut_extrude5_sk5:
        with Locations((7.946152423, 67.59326674)):
            Circle(SKETCH6_R)
    cut_extrude5_tool5 = extrude(cut_extrude5_sk5.sketch, amount=-CUT_EXTRUDE5_REACH, mode=Mode.PRIVATE) & part.part
    add(cut_extrude5_tool5.solids().sort_by_distance((7.946152, 67.593267, 2))[0], mode=Mode.SUBTRACT)
    # Sketch6 → Cut-Extrude5 (cut, up to next)
    with BuildSketch(Plane.XY.offset(2), mode=Mode.PRIVATE) as cut_extrude5_sk6:
        with Locations((18.446152423, 49.40673326)):
            Circle(SKETCH6_R)
    cut_extrude5_tool6 = extrude(cut_extrude5_sk6.sketch, amount=-CUT_EXTRUDE5_REACH, mode=Mode.PRIVATE) & part.part
    add(cut_extrude5_tool6.solids().sort_by_distance((18.446152, 49.406733, 2))[0], mode=Mode.SUBTRACT)
    # Sketch6 → Cut-Extrude5 (cut, up to next)
    with BuildSketch(Plane.XY.offset(2), mode=Mode.PRIVATE) as cut_extrude5_sk7:
        with Locations((7.946152423, 154.40673326)):
            Circle(SKETCH6_R)
    cut_extrude5_tool7 = extrude(cut_extrude5_sk7.sketch, amount=-CUT_EXTRUDE5_REACH, mode=Mode.PRIVATE) & part.part
    add(cut_extrude5_tool7.solids().sort_by_distance((7.946152, 154.406733, 2))[0], mode=Mode.SUBTRACT)
    # Sketch6 → Cut-Extrude5 (cut, up to next)
    with BuildSketch(Plane.XY.offset(2), mode=Mode.PRIVATE) as cut_extrude5_sk8:
        with Locations((18.446152423, 172.59326674)):
            Circle(SKETCH6_R)
    cut_extrude5_tool8 = extrude(cut_extrude5_sk8.sketch, amount=-CUT_EXTRUDE5_REACH, mode=Mode.PRIVATE) & part.part
    add(cut_extrude5_tool8.solids().sort_by_distance((18.446152, 172.593267, 2))[0], mode=Mode.SUBTRACT)
    # Sketch6 → Cut-Extrude5 (cut, up to next)
    with BuildSketch(Plane.XY.offset(2), mode=Mode.PRIVATE) as cut_extrude5_sk9:
        with Locations((189.811487217, 172.59326674)):
            Circle(SKETCH6_R)
    cut_extrude5_tool9 = extrude(cut_extrude5_sk9.sketch, amount=-CUT_EXTRUDE5_REACH, mode=Mode.PRIVATE) & part.part
    add(cut_extrude5_tool9.solids().sort_by_distance((189.811487, 172.593267, 2))[0], mode=Mode.SUBTRACT)
    # Sketch6 → Cut-Extrude5 (cut, up to next)
    with BuildSketch(Plane.XY.offset(2), mode=Mode.PRIVATE) as cut_extrude5_sk10:
        with Locations((200.311487217, 154.40673326)):
            Circle(SKETCH6_R)
    cut_extrude5_tool10 = extrude(cut_extrude5_sk10.sketch, amount=-CUT_EXTRUDE5_REACH, mode=Mode.PRIVATE) & part.part
    add(cut_extrude5_tool10.solids().sort_by_distance((200.311487, 154.406733, 2))[0], mode=Mode.SUBTRACT)
    # Sketch6 → Cut-Extrude5 (cut, up to next)
    with BuildSketch(Plane.XY.offset(2), mode=Mode.PRIVATE) as cut_extrude5_sk11:
        with Locations((200.311487217, 67.59326674)):
            Circle(SKETCH6_R)
    cut_extrude5_tool11 = extrude(cut_extrude5_sk11.sketch, amount=-CUT_EXTRUDE5_REACH, mode=Mode.PRIVATE) & part.part
    add(cut_extrude5_tool11.solids().sort_by_distance((200.311487, 67.593267, 2))[0], mode=Mode.SUBTRACT)
    # Sketch6 → Cut-Extrude5 (cut, up to next)
    with BuildSketch(Plane.XY.offset(2), mode=Mode.PRIVATE) as cut_extrude5_sk12:
        with Locations((189.811487217, 49.40673326)):
            Circle(SKETCH6_R)
    cut_extrude5_tool12 = extrude(cut_extrude5_sk12.sketch, amount=-CUT_EXTRUDE5_REACH, mode=Mode.PRIVATE) & part.part
    add(cut_extrude5_tool12.solids().sort_by_distance((189.811487, 49.406733, 2))[0], mode=Mode.SUBTRACT)


solid = part.part
